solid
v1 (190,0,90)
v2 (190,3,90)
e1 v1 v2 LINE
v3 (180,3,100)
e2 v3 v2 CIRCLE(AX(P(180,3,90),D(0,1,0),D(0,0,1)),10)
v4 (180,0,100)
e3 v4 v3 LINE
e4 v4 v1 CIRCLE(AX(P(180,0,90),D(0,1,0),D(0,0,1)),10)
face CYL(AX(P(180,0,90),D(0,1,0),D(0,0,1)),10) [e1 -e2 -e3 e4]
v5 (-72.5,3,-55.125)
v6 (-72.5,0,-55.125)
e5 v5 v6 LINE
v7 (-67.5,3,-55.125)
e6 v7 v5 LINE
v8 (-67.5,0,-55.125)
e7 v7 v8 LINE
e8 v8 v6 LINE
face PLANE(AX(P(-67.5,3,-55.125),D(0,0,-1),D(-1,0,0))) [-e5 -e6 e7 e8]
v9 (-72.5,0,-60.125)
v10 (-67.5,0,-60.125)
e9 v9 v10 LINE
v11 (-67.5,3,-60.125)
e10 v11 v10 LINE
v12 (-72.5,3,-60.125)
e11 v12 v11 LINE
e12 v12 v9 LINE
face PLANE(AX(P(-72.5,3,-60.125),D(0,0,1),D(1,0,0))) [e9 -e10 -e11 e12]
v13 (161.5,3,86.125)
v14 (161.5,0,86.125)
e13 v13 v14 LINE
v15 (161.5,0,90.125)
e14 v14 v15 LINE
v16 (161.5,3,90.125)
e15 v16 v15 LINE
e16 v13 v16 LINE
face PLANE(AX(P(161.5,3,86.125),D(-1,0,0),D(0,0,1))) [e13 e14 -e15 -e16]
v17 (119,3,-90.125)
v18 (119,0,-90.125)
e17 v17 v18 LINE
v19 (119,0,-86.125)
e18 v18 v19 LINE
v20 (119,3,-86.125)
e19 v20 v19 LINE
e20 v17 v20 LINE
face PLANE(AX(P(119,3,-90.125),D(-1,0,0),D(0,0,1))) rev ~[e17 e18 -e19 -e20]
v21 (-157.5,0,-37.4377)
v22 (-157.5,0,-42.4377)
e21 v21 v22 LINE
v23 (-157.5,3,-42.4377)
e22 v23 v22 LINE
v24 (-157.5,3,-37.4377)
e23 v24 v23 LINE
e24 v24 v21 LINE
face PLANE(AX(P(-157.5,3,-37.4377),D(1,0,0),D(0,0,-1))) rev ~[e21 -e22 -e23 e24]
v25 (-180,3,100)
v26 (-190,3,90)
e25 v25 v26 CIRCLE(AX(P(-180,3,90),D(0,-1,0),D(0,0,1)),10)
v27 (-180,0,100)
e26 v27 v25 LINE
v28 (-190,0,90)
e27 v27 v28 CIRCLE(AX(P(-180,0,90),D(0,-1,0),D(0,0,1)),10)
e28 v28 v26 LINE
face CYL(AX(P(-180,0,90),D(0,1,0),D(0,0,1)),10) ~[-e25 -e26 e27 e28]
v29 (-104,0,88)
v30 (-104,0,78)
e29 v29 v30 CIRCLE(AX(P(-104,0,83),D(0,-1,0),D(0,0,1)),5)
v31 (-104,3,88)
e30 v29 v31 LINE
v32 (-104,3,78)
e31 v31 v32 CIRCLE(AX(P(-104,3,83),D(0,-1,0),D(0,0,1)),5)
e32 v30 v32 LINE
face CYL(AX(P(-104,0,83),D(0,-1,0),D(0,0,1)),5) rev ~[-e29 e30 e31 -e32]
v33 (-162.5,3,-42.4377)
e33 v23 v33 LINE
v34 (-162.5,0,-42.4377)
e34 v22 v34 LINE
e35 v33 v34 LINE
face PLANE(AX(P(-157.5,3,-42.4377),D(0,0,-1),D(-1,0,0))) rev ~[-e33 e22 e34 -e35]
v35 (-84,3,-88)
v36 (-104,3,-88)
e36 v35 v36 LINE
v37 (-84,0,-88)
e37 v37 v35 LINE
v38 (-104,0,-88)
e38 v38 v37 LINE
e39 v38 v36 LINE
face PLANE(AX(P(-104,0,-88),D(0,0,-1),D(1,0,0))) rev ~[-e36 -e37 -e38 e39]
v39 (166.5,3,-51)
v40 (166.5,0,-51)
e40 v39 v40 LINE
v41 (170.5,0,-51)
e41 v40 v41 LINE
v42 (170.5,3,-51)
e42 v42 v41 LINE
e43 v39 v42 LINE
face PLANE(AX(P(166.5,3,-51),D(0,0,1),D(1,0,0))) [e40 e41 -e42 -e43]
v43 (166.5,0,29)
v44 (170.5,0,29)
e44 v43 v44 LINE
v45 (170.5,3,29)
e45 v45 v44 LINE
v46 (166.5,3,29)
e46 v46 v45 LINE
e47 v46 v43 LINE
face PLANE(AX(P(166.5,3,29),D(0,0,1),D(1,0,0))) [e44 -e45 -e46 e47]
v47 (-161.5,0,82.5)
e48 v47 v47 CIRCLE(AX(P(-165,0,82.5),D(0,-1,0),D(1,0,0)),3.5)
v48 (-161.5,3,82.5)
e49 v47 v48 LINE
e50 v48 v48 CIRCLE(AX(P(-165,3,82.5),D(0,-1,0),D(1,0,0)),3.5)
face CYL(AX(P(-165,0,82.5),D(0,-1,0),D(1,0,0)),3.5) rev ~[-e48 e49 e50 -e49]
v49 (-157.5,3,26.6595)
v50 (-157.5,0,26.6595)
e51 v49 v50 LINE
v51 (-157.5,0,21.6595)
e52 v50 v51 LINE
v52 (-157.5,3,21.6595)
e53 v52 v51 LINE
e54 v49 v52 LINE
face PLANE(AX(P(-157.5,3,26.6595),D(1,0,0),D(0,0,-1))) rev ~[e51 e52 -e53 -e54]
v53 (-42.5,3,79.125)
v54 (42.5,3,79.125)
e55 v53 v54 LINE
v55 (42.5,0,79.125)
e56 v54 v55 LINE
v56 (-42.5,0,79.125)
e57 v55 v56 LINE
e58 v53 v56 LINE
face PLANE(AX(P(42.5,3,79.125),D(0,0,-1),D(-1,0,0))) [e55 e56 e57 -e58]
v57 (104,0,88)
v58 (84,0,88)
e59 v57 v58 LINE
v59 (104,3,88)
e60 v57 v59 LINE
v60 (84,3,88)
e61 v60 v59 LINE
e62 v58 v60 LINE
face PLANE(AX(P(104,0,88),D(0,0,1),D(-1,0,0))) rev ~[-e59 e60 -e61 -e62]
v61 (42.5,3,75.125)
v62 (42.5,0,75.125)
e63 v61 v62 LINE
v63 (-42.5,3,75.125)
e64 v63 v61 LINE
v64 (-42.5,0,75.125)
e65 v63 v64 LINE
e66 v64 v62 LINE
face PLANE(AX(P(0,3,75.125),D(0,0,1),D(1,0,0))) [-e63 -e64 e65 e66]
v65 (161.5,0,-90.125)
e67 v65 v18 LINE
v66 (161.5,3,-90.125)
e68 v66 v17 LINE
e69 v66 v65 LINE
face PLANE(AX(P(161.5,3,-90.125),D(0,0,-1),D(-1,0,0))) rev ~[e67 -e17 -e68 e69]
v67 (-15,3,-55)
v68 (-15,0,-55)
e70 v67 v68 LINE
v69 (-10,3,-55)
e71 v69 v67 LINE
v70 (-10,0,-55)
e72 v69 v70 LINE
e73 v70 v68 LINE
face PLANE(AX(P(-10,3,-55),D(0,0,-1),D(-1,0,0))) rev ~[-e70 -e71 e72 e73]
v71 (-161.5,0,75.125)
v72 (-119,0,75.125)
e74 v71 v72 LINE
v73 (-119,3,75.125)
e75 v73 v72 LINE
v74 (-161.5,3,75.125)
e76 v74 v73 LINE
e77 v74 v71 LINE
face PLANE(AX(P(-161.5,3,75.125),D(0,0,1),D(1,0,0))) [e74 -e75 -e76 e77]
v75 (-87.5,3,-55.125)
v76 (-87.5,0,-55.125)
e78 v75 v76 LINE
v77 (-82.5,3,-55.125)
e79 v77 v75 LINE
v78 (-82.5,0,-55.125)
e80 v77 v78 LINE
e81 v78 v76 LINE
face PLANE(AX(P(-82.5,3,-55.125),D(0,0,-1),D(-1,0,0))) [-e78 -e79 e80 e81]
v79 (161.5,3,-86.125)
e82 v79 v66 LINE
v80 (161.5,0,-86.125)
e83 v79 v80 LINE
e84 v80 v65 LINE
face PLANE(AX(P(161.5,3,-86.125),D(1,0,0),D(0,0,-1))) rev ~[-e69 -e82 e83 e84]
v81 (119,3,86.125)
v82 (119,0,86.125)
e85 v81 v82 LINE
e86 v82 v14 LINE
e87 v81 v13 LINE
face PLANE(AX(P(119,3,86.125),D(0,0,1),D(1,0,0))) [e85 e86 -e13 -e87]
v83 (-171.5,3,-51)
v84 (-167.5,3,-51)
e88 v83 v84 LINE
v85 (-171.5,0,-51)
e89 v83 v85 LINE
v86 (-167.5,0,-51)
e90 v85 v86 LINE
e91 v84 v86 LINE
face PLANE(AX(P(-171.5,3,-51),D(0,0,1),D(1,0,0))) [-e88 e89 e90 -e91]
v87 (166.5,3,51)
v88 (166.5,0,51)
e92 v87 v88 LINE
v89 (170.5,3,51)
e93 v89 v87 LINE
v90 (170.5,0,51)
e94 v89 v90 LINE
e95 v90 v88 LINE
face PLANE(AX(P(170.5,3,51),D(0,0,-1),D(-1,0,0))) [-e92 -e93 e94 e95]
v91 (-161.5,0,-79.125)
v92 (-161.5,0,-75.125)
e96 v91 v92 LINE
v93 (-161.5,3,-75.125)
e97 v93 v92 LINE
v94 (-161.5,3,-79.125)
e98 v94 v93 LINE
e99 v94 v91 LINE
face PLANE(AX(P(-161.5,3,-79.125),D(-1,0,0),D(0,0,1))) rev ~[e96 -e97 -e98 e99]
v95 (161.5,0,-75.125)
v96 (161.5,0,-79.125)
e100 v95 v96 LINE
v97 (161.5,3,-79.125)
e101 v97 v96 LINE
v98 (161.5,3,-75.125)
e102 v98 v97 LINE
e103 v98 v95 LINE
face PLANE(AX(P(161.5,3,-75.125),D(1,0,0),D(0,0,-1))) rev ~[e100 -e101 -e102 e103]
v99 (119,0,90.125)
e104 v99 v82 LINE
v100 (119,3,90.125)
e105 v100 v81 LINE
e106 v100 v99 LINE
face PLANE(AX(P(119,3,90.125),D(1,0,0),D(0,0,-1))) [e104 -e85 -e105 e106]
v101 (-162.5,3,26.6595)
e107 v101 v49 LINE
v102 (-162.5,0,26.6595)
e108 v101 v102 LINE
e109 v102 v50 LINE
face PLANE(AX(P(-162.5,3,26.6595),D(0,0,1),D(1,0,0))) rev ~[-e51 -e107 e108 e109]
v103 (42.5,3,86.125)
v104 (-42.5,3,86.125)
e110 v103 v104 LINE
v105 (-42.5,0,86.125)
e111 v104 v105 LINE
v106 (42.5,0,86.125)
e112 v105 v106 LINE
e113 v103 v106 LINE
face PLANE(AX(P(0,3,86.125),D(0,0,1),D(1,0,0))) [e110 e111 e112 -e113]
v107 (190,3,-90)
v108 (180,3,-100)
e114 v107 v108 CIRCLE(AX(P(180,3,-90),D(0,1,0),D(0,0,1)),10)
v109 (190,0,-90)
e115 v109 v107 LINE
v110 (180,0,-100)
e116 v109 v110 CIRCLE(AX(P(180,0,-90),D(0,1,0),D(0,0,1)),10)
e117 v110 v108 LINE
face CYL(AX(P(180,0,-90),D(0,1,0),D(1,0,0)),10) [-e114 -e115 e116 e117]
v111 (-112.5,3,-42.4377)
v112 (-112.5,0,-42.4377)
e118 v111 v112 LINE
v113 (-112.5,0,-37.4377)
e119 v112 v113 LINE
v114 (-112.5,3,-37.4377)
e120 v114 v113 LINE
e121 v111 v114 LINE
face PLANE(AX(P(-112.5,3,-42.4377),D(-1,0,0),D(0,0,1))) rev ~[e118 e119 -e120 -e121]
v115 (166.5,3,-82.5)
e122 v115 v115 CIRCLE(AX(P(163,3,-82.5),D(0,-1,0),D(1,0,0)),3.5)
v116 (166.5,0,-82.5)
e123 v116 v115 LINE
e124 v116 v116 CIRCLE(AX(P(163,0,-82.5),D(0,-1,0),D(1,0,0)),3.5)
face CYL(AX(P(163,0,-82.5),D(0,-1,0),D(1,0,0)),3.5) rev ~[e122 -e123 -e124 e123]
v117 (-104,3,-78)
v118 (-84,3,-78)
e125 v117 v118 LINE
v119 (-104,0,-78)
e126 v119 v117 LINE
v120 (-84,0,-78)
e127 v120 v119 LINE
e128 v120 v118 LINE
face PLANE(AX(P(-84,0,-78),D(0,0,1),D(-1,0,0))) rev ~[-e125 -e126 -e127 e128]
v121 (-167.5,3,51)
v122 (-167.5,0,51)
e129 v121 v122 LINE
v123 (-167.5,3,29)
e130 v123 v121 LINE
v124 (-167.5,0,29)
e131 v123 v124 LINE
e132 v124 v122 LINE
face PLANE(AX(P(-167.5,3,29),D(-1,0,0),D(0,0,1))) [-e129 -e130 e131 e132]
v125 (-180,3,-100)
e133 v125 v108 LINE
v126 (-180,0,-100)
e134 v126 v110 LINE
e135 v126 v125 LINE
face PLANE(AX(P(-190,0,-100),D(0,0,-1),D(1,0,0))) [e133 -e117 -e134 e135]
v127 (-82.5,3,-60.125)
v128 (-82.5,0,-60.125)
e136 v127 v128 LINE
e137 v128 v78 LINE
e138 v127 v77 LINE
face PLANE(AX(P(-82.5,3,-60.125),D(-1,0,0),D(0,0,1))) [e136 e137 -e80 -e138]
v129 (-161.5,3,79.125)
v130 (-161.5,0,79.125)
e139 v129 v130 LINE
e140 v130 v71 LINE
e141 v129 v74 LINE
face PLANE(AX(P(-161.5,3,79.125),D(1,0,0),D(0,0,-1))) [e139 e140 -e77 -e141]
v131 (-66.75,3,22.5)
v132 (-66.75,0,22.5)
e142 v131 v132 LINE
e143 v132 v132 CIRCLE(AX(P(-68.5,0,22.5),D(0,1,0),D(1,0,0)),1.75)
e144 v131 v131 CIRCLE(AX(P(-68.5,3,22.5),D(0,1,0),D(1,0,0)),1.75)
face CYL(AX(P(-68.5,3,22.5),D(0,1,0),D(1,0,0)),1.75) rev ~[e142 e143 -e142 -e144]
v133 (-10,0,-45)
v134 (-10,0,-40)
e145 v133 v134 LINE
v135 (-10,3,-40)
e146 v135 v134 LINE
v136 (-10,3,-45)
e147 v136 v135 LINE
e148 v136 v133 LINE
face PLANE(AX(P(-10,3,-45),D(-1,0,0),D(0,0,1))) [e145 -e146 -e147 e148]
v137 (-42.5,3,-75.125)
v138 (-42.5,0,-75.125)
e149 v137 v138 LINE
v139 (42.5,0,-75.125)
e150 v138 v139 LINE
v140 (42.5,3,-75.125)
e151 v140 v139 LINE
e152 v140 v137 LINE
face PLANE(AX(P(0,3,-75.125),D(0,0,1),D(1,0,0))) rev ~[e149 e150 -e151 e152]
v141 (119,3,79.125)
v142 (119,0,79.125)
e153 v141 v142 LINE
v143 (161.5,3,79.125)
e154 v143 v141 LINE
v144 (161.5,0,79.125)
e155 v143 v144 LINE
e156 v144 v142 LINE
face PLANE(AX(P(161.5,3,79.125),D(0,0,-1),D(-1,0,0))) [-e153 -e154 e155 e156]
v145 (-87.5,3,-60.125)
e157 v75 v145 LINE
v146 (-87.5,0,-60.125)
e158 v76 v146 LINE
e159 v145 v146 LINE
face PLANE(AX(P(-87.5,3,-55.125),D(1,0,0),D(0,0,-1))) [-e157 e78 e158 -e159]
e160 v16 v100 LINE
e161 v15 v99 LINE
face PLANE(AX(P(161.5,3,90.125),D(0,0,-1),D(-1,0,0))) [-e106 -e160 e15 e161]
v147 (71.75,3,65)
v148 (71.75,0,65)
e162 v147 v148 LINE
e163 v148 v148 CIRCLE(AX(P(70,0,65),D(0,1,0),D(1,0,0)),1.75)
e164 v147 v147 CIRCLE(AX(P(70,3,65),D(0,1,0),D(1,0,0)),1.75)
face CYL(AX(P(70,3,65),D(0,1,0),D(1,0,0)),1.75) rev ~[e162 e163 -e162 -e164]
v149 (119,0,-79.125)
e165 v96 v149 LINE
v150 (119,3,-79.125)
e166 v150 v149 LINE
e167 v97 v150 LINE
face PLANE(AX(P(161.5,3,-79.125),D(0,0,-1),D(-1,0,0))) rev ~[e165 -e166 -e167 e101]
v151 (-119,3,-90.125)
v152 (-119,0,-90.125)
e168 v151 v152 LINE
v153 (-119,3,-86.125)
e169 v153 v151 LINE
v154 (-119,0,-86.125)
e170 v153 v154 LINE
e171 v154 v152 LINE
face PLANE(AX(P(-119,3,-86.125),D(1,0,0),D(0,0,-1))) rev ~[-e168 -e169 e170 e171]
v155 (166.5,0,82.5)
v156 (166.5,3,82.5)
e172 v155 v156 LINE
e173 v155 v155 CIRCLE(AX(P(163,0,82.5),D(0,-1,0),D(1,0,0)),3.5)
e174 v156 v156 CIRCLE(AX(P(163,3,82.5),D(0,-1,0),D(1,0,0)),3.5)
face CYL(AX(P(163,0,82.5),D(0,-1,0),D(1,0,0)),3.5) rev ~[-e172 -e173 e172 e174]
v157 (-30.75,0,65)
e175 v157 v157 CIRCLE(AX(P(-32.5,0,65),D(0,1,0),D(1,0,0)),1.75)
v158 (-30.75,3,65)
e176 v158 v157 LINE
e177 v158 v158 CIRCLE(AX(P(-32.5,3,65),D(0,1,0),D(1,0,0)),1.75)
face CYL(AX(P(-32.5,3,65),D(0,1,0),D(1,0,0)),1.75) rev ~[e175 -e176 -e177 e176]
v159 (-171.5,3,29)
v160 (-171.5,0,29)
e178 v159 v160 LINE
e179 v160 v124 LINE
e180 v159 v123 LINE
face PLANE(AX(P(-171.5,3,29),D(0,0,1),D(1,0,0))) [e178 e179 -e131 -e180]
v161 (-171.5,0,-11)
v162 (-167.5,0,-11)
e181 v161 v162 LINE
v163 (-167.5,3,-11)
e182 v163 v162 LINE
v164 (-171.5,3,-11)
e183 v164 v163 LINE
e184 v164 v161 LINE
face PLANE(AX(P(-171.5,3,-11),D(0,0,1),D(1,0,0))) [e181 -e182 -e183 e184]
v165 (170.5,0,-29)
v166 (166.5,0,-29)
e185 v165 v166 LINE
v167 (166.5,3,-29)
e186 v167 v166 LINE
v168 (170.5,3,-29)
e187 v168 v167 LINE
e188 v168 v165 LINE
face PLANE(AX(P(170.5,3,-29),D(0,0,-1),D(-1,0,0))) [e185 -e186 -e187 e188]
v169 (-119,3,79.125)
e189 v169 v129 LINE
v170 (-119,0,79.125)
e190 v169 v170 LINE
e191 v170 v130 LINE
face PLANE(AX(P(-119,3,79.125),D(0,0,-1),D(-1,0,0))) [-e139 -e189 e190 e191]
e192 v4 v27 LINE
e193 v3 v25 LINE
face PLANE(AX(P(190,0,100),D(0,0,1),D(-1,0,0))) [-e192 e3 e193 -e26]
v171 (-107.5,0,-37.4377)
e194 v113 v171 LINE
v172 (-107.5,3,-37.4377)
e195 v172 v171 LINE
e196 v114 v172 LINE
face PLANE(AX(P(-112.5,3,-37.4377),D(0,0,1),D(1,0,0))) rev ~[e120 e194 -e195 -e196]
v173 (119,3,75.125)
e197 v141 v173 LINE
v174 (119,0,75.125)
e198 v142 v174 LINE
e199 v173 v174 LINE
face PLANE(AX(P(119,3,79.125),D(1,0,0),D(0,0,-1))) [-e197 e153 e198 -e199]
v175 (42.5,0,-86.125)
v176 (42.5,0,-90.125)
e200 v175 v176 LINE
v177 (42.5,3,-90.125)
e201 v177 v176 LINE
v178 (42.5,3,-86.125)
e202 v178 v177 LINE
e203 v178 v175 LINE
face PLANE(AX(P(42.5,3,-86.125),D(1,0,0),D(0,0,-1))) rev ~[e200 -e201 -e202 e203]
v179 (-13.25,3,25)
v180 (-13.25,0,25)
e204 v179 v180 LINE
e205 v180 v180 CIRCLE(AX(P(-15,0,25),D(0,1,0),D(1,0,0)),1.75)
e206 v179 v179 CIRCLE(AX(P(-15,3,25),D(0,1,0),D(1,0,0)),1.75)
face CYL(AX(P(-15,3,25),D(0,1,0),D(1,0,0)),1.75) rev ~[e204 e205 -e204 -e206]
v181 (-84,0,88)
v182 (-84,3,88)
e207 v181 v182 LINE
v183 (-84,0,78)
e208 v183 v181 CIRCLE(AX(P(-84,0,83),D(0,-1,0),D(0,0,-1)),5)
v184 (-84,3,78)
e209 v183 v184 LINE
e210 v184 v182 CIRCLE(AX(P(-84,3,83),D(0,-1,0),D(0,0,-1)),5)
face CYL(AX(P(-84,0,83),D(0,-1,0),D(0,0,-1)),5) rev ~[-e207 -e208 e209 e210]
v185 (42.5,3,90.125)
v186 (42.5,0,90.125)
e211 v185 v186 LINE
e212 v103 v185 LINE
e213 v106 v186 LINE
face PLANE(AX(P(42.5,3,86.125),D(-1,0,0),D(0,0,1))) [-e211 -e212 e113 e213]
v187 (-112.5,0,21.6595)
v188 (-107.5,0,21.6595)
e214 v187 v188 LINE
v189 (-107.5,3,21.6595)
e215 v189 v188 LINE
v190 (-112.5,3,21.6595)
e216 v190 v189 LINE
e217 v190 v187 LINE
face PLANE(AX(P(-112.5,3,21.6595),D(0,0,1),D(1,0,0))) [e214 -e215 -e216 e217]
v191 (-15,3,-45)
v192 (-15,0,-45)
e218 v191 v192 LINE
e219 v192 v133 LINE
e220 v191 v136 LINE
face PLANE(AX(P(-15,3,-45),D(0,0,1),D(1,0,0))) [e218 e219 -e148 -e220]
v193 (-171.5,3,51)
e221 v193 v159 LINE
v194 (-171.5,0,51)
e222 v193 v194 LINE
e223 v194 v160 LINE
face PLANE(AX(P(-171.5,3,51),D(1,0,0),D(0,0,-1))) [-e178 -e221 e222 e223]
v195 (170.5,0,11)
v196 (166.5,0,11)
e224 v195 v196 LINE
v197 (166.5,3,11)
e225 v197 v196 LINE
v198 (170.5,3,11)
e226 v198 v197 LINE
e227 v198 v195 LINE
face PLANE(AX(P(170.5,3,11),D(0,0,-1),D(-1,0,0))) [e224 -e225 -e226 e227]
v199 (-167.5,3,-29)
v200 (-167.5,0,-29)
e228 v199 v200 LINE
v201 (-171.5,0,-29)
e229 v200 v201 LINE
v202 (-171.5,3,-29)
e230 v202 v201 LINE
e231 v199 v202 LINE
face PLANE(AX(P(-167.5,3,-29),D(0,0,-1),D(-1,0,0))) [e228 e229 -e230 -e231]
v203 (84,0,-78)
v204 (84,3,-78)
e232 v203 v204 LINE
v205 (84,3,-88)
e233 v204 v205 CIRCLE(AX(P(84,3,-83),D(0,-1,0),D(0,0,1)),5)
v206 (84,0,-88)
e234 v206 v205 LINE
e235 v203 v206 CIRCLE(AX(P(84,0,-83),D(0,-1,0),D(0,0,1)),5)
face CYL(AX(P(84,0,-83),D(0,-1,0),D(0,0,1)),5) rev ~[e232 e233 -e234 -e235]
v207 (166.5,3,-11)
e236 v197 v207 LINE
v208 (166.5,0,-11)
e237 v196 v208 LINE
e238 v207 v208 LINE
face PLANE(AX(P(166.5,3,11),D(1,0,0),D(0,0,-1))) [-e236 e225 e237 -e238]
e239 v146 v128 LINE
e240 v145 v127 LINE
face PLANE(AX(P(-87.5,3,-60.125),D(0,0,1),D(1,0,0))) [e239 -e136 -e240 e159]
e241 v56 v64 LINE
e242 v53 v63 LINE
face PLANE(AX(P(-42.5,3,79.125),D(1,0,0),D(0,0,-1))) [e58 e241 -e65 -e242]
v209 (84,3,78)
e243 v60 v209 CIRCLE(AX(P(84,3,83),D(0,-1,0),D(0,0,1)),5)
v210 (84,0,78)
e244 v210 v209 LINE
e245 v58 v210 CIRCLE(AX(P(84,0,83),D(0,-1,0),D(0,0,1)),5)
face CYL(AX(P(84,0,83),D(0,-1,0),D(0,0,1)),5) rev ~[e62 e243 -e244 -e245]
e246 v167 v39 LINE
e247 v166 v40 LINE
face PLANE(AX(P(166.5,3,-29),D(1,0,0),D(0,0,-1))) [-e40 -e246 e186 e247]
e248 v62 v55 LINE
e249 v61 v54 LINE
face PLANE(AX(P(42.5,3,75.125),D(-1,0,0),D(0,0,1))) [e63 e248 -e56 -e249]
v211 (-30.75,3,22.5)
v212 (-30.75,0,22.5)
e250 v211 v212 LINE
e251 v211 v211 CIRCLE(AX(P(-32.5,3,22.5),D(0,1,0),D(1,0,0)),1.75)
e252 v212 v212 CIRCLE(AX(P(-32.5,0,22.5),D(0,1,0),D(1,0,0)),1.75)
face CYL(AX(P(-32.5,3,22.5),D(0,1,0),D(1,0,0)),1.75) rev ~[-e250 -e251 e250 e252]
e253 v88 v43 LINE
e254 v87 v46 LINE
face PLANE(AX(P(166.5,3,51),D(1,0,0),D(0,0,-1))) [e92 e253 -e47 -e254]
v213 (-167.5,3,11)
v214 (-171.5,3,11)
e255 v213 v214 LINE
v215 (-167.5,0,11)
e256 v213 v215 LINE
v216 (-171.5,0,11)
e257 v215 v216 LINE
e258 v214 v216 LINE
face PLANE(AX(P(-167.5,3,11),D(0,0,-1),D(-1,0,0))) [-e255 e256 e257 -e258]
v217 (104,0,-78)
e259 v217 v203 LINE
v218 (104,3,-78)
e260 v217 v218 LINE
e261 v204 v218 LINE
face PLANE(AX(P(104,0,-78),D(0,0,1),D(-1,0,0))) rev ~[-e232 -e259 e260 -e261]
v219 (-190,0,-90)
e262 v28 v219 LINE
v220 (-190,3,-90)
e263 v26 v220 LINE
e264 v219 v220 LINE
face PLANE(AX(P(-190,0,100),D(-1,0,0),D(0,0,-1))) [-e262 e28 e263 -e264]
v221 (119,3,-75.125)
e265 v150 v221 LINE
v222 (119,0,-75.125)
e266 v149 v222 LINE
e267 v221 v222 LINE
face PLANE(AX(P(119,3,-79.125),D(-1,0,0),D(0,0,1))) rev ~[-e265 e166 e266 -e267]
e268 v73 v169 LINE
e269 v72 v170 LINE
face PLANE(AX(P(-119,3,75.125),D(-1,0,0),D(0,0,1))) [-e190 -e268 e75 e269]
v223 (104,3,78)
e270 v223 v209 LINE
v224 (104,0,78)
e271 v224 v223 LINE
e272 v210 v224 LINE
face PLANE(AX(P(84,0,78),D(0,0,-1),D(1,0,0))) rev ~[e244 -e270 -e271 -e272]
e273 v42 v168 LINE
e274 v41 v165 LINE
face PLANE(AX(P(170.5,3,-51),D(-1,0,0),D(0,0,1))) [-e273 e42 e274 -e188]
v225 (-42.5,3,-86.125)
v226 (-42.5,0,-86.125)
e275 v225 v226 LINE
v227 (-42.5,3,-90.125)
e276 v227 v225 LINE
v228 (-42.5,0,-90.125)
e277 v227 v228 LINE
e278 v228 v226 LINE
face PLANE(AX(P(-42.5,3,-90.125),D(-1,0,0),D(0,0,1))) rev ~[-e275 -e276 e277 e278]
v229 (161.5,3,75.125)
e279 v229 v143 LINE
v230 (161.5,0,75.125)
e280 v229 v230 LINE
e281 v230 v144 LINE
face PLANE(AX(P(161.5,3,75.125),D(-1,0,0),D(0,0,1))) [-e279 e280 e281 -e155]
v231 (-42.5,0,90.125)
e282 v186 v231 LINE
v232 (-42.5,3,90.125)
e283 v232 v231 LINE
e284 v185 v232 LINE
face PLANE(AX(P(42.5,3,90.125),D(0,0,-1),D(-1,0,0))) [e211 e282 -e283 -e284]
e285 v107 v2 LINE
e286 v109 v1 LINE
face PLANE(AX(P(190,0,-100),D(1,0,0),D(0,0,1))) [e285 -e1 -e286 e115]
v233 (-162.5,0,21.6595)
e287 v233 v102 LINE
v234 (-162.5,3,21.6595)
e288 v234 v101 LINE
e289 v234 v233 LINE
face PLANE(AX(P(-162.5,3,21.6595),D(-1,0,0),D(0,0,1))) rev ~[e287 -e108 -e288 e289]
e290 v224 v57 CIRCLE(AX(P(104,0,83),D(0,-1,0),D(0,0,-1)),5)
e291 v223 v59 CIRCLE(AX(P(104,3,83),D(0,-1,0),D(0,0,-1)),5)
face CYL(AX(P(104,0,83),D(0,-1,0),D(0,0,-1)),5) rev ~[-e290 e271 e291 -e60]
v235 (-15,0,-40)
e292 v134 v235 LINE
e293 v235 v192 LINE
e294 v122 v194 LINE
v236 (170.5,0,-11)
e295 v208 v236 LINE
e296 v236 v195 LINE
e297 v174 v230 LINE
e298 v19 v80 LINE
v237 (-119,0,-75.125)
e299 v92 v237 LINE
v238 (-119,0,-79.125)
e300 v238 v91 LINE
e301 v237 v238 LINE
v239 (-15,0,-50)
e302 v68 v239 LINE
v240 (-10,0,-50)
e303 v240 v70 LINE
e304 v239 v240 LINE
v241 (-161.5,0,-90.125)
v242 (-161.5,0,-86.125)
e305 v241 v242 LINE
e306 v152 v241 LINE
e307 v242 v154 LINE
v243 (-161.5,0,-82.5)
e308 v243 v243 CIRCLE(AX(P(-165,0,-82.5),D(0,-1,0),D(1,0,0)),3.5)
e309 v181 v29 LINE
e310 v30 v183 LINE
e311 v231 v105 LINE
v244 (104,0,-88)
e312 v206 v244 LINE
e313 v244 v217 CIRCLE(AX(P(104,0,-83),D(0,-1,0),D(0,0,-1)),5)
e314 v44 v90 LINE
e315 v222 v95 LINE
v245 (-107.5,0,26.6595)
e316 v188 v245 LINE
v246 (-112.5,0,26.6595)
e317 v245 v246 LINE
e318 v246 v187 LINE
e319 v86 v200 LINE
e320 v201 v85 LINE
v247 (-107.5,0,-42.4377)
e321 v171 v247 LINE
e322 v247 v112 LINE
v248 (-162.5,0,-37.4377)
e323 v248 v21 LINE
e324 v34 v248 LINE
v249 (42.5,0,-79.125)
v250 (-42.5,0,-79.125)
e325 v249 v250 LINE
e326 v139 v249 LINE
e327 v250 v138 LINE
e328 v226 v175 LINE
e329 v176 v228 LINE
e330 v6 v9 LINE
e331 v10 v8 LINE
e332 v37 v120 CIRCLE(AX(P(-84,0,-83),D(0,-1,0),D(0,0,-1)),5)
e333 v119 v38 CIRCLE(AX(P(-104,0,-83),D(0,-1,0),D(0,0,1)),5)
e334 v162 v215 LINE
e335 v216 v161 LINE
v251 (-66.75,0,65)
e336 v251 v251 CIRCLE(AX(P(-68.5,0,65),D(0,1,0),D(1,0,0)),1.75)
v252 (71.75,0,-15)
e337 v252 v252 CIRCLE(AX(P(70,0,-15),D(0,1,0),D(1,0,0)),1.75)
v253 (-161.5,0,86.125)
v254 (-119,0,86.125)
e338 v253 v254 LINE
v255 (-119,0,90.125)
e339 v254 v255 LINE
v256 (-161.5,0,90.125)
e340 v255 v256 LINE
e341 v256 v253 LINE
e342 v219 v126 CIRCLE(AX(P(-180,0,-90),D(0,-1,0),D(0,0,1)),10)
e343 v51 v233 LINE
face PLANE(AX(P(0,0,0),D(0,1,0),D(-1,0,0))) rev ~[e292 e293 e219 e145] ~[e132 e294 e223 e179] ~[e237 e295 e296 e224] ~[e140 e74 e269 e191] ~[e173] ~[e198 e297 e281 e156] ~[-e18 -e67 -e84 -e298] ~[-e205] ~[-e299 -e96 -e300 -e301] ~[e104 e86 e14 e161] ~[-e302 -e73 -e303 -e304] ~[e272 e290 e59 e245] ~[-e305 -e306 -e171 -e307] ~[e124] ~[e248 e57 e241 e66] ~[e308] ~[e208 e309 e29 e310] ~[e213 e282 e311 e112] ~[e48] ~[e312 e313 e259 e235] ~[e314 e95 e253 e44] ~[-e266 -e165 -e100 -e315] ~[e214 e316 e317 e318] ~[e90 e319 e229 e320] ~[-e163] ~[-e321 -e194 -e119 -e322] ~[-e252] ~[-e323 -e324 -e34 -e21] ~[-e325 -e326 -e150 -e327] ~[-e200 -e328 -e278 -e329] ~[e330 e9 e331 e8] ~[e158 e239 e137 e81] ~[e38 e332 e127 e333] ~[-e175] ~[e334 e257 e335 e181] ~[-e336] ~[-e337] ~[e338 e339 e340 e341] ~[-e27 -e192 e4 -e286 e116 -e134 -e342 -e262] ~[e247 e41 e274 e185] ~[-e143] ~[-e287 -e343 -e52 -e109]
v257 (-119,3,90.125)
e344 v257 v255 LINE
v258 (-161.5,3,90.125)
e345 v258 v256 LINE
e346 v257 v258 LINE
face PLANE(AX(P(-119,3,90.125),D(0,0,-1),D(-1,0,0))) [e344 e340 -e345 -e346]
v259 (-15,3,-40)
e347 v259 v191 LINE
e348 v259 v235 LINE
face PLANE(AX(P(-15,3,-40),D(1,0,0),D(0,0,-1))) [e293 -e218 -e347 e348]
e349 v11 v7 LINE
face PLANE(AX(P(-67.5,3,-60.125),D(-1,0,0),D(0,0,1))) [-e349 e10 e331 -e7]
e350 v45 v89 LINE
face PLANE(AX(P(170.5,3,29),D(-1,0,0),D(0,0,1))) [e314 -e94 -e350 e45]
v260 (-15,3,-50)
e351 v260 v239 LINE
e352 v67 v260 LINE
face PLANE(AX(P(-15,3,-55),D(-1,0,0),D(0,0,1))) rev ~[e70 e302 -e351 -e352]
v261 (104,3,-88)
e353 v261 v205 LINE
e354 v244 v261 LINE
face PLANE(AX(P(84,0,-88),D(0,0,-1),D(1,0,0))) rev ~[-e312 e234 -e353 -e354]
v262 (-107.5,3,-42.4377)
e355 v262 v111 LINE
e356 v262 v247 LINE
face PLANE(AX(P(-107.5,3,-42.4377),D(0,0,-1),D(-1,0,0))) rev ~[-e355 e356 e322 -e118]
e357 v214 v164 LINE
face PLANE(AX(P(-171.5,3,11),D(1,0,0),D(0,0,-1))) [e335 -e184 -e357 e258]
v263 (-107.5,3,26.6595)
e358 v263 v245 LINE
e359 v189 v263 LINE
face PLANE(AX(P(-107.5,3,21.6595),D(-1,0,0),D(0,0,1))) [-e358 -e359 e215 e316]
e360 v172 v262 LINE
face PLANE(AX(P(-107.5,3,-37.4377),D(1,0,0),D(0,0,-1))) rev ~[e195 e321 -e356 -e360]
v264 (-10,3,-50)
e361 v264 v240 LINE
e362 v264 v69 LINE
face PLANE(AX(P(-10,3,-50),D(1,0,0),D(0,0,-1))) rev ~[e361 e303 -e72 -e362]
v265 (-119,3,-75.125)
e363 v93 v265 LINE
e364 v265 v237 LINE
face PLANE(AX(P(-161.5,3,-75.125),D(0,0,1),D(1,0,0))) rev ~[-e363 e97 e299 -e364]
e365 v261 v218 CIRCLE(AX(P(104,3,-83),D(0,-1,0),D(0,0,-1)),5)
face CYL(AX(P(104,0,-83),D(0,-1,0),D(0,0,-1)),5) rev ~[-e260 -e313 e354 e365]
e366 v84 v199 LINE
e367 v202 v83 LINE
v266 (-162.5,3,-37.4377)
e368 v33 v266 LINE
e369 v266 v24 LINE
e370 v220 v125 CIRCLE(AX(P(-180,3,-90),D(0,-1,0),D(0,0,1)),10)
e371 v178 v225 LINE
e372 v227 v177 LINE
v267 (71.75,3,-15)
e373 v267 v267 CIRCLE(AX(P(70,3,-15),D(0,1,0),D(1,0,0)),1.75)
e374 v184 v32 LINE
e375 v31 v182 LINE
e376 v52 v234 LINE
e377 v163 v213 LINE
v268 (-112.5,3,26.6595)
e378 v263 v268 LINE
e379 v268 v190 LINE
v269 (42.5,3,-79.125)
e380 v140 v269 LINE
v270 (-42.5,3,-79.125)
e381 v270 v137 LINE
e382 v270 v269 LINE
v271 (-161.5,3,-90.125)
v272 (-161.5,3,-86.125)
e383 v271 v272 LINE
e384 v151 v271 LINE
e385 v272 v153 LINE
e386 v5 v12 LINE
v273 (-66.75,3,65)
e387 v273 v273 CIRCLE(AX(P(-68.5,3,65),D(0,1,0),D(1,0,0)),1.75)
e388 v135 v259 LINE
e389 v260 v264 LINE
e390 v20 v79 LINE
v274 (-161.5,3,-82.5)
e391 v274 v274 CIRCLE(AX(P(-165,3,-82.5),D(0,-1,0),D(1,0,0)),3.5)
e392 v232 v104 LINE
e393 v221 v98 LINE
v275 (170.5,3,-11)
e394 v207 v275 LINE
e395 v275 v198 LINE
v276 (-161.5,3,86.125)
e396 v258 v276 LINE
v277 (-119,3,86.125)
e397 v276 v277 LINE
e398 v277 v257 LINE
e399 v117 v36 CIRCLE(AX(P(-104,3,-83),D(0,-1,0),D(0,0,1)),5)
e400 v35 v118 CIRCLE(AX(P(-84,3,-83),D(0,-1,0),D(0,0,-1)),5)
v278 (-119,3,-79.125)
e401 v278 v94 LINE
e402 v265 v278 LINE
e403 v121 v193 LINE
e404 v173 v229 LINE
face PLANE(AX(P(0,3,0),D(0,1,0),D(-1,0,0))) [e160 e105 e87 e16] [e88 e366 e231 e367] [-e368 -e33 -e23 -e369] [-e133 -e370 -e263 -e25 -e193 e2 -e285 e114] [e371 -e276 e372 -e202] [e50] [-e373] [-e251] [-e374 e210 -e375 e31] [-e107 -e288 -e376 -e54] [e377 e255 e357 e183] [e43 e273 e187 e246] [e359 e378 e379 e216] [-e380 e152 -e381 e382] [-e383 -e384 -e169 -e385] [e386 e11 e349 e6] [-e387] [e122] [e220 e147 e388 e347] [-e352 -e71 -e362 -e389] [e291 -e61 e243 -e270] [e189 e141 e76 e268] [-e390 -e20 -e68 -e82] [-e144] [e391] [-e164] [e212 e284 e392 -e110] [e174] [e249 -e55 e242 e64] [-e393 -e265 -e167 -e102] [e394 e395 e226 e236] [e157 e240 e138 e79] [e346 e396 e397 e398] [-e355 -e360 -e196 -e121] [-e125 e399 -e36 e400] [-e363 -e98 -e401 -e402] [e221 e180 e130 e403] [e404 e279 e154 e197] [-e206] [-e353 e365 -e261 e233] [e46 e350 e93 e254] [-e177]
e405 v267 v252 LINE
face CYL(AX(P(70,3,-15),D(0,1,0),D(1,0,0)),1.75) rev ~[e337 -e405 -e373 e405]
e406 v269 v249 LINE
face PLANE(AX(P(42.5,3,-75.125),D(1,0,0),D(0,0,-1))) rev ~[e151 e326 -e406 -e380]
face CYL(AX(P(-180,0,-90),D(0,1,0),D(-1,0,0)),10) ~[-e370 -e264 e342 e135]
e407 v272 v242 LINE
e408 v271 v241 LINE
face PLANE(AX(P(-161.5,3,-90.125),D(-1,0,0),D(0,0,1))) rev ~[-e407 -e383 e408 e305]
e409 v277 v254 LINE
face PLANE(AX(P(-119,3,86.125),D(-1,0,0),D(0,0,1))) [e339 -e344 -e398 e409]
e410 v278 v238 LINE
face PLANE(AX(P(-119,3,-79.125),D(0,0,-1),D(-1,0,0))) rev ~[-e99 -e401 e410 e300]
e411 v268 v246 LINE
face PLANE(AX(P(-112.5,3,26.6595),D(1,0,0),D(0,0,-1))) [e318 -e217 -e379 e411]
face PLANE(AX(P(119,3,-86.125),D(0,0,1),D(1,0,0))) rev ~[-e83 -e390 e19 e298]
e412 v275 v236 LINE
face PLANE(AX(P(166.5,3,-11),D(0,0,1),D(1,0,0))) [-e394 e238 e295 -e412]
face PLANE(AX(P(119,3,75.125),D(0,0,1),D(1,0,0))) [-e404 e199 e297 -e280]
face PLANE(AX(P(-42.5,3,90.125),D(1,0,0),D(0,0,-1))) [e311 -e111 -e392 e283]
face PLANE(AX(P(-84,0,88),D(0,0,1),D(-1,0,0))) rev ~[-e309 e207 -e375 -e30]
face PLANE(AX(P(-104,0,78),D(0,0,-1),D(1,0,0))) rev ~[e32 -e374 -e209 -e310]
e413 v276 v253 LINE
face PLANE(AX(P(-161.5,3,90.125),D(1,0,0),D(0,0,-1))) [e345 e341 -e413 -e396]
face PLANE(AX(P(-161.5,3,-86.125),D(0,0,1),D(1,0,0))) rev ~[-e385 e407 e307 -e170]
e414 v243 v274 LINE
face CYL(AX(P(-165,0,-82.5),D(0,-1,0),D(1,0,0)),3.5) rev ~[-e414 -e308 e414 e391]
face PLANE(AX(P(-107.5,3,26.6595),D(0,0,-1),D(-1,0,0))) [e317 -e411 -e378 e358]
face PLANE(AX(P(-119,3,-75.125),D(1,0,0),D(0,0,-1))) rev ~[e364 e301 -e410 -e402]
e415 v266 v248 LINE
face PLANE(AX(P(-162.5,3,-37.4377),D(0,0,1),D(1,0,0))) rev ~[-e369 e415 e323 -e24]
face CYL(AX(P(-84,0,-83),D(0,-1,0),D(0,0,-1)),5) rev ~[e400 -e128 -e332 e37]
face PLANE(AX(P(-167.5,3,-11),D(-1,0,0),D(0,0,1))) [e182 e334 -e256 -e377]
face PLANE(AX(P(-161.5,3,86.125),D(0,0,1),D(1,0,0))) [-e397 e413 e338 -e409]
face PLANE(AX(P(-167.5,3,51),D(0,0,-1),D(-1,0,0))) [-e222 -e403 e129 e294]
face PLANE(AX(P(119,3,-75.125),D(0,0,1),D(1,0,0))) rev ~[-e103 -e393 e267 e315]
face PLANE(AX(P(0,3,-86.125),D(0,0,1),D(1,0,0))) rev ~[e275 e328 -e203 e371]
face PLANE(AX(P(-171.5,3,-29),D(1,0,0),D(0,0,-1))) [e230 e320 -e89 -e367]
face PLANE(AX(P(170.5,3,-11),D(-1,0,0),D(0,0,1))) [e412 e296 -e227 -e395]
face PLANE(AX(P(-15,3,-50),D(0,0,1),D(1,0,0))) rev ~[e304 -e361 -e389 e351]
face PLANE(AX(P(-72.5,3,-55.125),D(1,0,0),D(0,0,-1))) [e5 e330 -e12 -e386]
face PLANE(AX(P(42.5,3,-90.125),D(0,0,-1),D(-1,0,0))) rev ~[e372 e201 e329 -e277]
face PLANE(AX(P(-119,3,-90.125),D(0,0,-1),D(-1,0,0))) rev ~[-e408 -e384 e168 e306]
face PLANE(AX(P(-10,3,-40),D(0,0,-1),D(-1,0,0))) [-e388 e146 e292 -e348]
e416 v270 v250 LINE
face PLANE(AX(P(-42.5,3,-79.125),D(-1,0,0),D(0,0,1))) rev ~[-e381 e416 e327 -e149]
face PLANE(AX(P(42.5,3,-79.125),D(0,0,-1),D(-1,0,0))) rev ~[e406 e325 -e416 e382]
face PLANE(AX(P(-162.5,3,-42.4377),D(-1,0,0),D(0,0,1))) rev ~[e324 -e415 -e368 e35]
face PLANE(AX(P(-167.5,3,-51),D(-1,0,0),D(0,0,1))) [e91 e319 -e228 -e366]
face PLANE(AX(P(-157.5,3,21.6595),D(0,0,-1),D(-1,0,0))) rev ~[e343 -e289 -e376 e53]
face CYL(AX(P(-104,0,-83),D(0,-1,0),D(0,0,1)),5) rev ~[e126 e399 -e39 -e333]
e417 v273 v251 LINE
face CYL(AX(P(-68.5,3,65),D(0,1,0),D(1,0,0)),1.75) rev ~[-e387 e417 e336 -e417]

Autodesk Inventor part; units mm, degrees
ref_plane "YZ Plane" through (0, 0, 0) normal (1, 0, 0) x (0, 1, 0)
ref_plane "XZ Plane" through (0, 0, 0) normal (0, 1, 0) x (-1, 0, 0)
ref_plane "XY Plane" through (0, 0, 0) normal (0, 0, 1) x (1, 0, 0)
sketch "Sketch1" plane through (0, 0, 0) normal (0, 1, 0) x (-1, 0, 0)
  line L0 (-190, 100) -> (190, 100)
  line L1 (190, 100) -> (190, -100)
  line L2 (190, -100) -> (-190, -100)
  line L3 (-190, -100) -> (-190, 100)
  line L4 (-190, 100) -> (190, -100) construction
  line L5 (190, 100) -> (-190, -100) construction
  point P0 (0, 0)
  dimension "d0" = 380
  dimension "d1" = 200
extrude "Extrusion1" add sketch "Sketch1" along normal blind 3
sketch "Sketch3" plane through (0, 3, 0) normal (0, 1, 0) x (1, 0, 0)
  line L0 (42.5, 90.125) -> (0, 90.125)
  line L1 (0, 90.125) -> (0, 86.125)
  line L2 (0, 86.125) -> (42.5, 86.125)
  line L3 (42.5, 86.125) -> (42.5, 90.125)
  line L4 (42.5, 90.125) -> (0, 86.125) construction
  line L5 (0, 90.125) -> (42.5, 86.125) construction
  line L6 (0, 90.125) -> (-42.5, 90.125)
  line L7 (-42.5, 90.125) -> (-42.5, 86.125)
  line L8 (-42.5, 86.125) -> (0, 86.125)
  line L9 (0, 86.125) -> (0, 90.125)
  line L10 (0, 90.125) -> (-42.5, 86.125) construction
  line L11 (-42.5, 90.125) -> (0, 86.125) construction
  line L12 (190, 100) -> (-190, 100) projected
  line L13 (161.5, 90.125) -> (119, 90.125)
  line L14 (119, 90.125) -> (119, 86.125)
  line L15 (119, 86.125) -> (161.5, 86.125)
  line L16 (161.5, 86.125) -> (161.5, 90.125)
  line L17 (161.5, 90.125) -> (119, 86.125) construction
  line L18 (119, 90.125) -> (161.5, 86.125) construction
  line L19 (0, 90.125) -> (0, 90.125)
  line L20 (0, 90.125) -> (0, 86.125)
  line L21 (0, 86.125) -> (0, 86.125)
  line L22 (0, 86.125) -> (0, 90.125)
  line L23 (-119, 90.125) -> (-161.5, 90.125)
  line L24 (-161.5, 90.125) -> (-161.5, 86.125)
  line L25 (-161.5, 86.125) -> (-119, 86.125)
  line L26 (-119, 86.125) -> (-119, 90.125)
  line L27 (190, 100) -> (190, -100)
  line L28 (42.5, 79.125) -> (0, 79.125)
  line L29 (0, 79.125) -> (0, 75.125)
  line L30 (0, 75.125) -> (42.5, 75.125)
  line L31 (42.5, 75.125) -> (42.5, 79.125)
  line L32 (42.5, 79.125) -> (0, 75.125) construction
  line L33 (0, 79.125) -> (42.5, 75.125) construction
  line L34 (0, 79.125) -> (-42.5, 79.125)
  line L35 (-42.5, 79.125) -> (-42.5, 75.125)
  line L36 (-42.5, 75.125) -> (0, 75.125)
  line L37 (0, 75.125) -> (0, 79.125)
  line L38 (0, 79.125) -> (-42.5, 75.125) construction
  line L39 (-42.5, 79.125) -> (0, 75.125) construction
  line L40 (0, 79.125) -> (0, 79.125)
  line L41 (0, 79.125) -> (0, 75.125)
  line L42 (0, 75.125) -> (0, 75.125)
  line L43 (0, 75.125) -> (0, 79.125)
  line L44 (-119, 79.125) -> (-161.5, 79.125)
  line L45 (-161.5, 79.125) -> (-161.5, 75.125)
  line L46 (-161.5, 75.125) -> (-119, 75.125)
  line L47 (-119, 75.125) -> (-119, 79.125)
  line L48 (190, 89) -> (190, -111)
  line L49 (253.2147, 0) -> (-252.6779, 0)
  line L50 (161.5, 79.125) -> (119, 79.125)
  line L51 (119, 79.125) -> (119, 75.125)
  line L52 (119, 75.125) -> (161.5, 75.125)
  line L53 (161.5, 75.125) -> (161.5, 79.125)
  line L54 (161.5, 79.125) -> (119, 75.125) construction
  line L55 (119, 79.125) -> (161.5, 75.125) construction
  line L56 (42.5, -90.125) -> (0, -90.125)
  line L57 (0, -90.125) -> (0, -86.125)
  line L58 (0, -86.125) -> (42.5, -86.125)
  line L59 (42.5, -86.125) -> (42.5, -90.125)
  line L60 (42.5, -90.125) -> (0, -86.125) construction
  line L61 (0, -90.125) -> (42.5, -86.125) construction
  line L62 (0, -90.125) -> (-42.5, -90.125)
  line L63 (-42.5, -90.125) -> (-42.5, -86.125)
  line L64 (-42.5, -86.125) -> (0, -86.125)
  line L65 (0, -86.125) -> (0, -90.125)
  line L66 (0, -90.125) -> (-42.5, -86.125) construction
  line L67 (-42.5, -90.125) -> (0, -86.125) construction
  line L68 (190, -100) -> (-190, -100)
  line L69 (161.5, -90.125) -> (119, -90.125)
  line L70 (119, -90.125) -> (119, -86.125)
  line L71 (119, -86.125) -> (161.5, -86.125)
  line L72 (161.5, -86.125) -> (161.5, -90.125)
  line L73 (161.5, -90.125) -> (119, -86.125) construction
  line L74 (119, -90.125) -> (161.5, -86.125) construction
  line L75 (0, -90.125) -> (0, -90.125)
  line L76 (0, -90.125) -> (0, -86.125)
  line L77 (0, -86.125) -> (0, -86.125)
  line L78 (0, -86.125) -> (0, -90.125)
  line L79 (-119, -90.125) -> (-161.5, -90.125)
  line L80 (-161.5, -90.125) -> (-161.5, -86.125)
  line L81 (-161.5, -86.125) -> (-119, -86.125)
  line L82 (-119, -86.125) -> (-119, -90.125)
  line L83 (0, -79.125) -> (0, -79.125)
  line L84 (0, -75.125) -> (0, -75.125)
  line L85 (0, -75.125) -> (0, -79.125)
  line L86 (0, -79.125) -> (0, -75.125)
  line L87 (-42.5, -75.125) -> (0, -75.125)
  line L88 (-42.5, -79.125) -> (-42.5, -75.125)
  line L89 (0, -79.125) -> (-42.5, -75.125) construction
  line L90 (-42.5, -79.125) -> (0, -75.125) construction
  line L91 (0, -79.125) -> (-42.5, -79.125)
  line L92 (0, -79.125) -> (0, -75.125)
  line L93 (0, -75.125) -> (0, -79.125)
  line L94 (42.5, -79.125) -> (0, -79.125)
  line L95 (0, -75.125) -> (42.5, -75.125)
  line L96 (42.5, -79.125) -> (0, -75.125) construction
  line L97 (0, -79.125) -> (42.5, -75.125) construction
  line L98 (42.5, -75.125) -> (42.5, -79.125)
  line L99 (-119, -75.125) -> (-119, -79.125)
  line L100 (-119, -79.125) -> (-161.5, -79.125)
  line L101 (-161.5, -75.125) -> (-119, -75.125)
  line L102 (-161.5, -79.125) -> (-161.5, -75.125)
  line L103 (119, -79.125) -> (119, -75.125)
  line L104 (161.5, -79.125) -> (119, -79.125)
  line L105 (119, -75.125) -> (161.5, -75.125)
  line L106 (161.5, -79.125) -> (119, -75.125) construction
  line L107 (119, -79.125) -> (161.5, -75.125) construction
  line L108 (161.5, -75.125) -> (161.5, -79.125)
  point P0 (0, 0)
  point P1 (21.25, 88.125)
  point P2 (-21.25, 88.125)
  point P3 (140.25, 88.125)
  point P4 (0, -11)
  point P5 (21.25, 77.125)
  point P6 (-21.25, 77.125)
  point P7 (-190, 89)
  point P8 (140.25, 77.125)
  point P9 (21.25, -88.125)
  point P10 (-21.25, -88.125)
  point P11 (140.25, -88.125)
  point P12 (190, -89)
  point P13 (-190, -89)
  point P14 (-21.25, -77.125)
  point P15 (21.25, -77.125)
  point P16 (140.25, -77.125)
  dimension "d49" = 10
  dimension "d28" = 42.5
  dimension "d29" = 4
  dimension "d30" = 42.5
  dimension "d31" = 4
  dimension "d32" = 0
  dimension "d33" = 0
  dimension "d34" = 9.875
  dimension "d35" = 9.875
  dimension "d36" = 42.5
  dimension "d37" = 4
  dimension "d38" = 76.5
  dimension "d39" = 9.875
  dimension "d40" = 42.5
  dimension "d41" = 4
  dimension "d42" = 76.5
  dimension "d43" = 9.875
  dimension "d46" = 11
  dimension "d53" = 11
  dimension "d68" = 71
  dimension "d69" = 100
extrude "Extrusion3" cut sketch "Sketch3" against normal blind 10
sketch "Sketch4" plane through (0, 3, 0) normal (0, 1, 0) x (1, 0, 0)
  line L0 (170.5, 29) -> (166.5, 29)
  line L1 (166.5, 29) -> (166.5, 51)
  line L2 (166.5, 51) -> (170.5, 51)
  line L3 (170.5, 51) -> (170.5, 29)
  line L4 (170.5, 29) -> (166.5, 51) construction
  line L5 (166.5, 29) -> (170.5, 51) construction
  line L6 (-167.5, 29) -> (-171.5, 29)
  line L7 (-171.5, 29) -> (-171.5, 51)
  line L8 (-171.5, 51) -> (-167.5, 51)
  line L9 (-167.5, 51) -> (-167.5, 29)
  line L10 (-167.5, 29) -> (-171.5, 51) construction
  line L11 (-171.5, 29) -> (-167.5, 51) construction
  line L12 (190, 100) -> (190, -100) projected
  line L13 (-190, 100) -> (-190, -100) projected
  line L14 (190, 100) -> (-190, 100) projected
  point P0 (0, 0)
  point P1 (168.5, 40)
  point P2 (-169.5, 40)
  dimension "d60" = 4
  dimension "d61" = 22
  dimension "d62" = 4
  dimension "d63" = 22
  dimension "d64" = 19.5
  dimension "d65" = 18.5
  dimension "d93" = 49
  dimension "d94" = 49
extrude "Extrusion4" cut sketch "Sketch4" against normal blind 10
sketch "Sketch5" plane through (0, 3, 0) normal (0, 1, 0) x (1, 0, 0)
  line L0 (-162.5, -26.6595) -> (-157.5, -26.6595)
  line L1 (-157.5, -26.6595) -> (-157.5, -21.6595)
  line L2 (-157.5, -21.6595) -> (-162.5, -21.6595)
  line L3 (-162.5, -21.6595) -> (-162.5, -26.6595)
  line L4 (-162.5, 37.4377) -> (-157.5, 37.4377)
  line L5 (-157.5, 37.4377) -> (-157.5, 42.4377)
  line L6 (-157.5, 42.4377) -> (-162.5, 42.4377)
  line L7 (-162.5, 42.4377) -> (-162.5, 37.4377)
  line L8 (-112.5, 37.4377) -> (-107.5, 37.4377)
  line L9 (-107.5, 37.4377) -> (-107.5, 42.4377)
  line L10 (-107.5, 42.4377) -> (-112.5, 42.4377)
  line L11 (-112.5, 42.4377) -> (-112.5, 37.4377)
  line L12 (-112.5, -21.6595) -> (-107.5, -21.6595)
  line L13 (-107.5, -21.6595) -> (-107.5, -26.6595)
  line L14 (-107.5, -26.6595) -> (-112.5, -26.6595)
  line L15 (-112.5, -26.6595) -> (-112.5, -21.6595)
  line L16 (-167.5, 51) -> (-167.5, 29) projected
  point P0 (0, 0)
  dimension "d72" = 5
  dimension "d73" = 5
  dimension "d74" = 5
  dimension "d75" = 5
  dimension "d76" = 5
  dimension "d77" = 5
  dimension "d78" = 5
  dimension "d79" = 45
  dimension "d80" = 45
extrude "Extrusion5" cut sketch "Sketch5" against normal blind 10
sketch "Sketch6" plane through (0, 3, 0) normal (0, 1, 0) x (1, 0, 0)
  line L0 (-87.5, 60.125) -> (-82.5, 60.125)
  line L1 (-82.5, 60.125) -> (-82.5, 55.125)
  line L2 (-82.5, 55.125) -> (-87.5, 55.125)
  line L3 (-87.5, 55.125) -> (-87.5, 60.125)
  line L4 (-72.5, 60.125) -> (-67.5, 60.125)
  line L5 (-67.5, 60.125) -> (-67.5, 55.125)
  line L6 (-67.5, 55.125) -> (-72.5, 55.125)
  line L7 (-72.5, 55.125) -> (-72.5, 60.125)
  line L8 (-107.5, 42.4377) -> (-107.5, 37.4377) projected
  line L9 (42.5, 75.125) -> (-42.5, 75.125) projected
  line L10 (-15, 45) -> (-10, 45)
  line L11 (-10, 45) -> (-10, 40)
  line L12 (-10, 40) -> (-15, 40)
  line L13 (-15, 40) -> (-15, 45)
  line L14 (-15, 45) -> (-10, 40) construction
  line L15 (-10, 45) -> (-15, 40) construction
  line L16 (-10, 55) -> (-15, 55)
  line L17 (-15, 55) -> (-15, 50)
  line L18 (-15, 50) -> (-10, 50)
  line L19 (-10, 50) -> (-10, 55)
  line L20 (-10, 55) -> (-15, 50) construction
  line L21 (-15, 55) -> (-10, 50) construction
  point P0 (0, 0)
  point P1 (-12.5, 42.5)
  point P2 (-12.5, 52.5)
  dimension "d83" = 5
  dimension "d84" = 5
  dimension "d85" = 5
  dimension "d86" = 10
  dimension "d87" = 20
  dimension "d88" = 15
  dimension "d89" = 5
  dimension "d90" = 15
  dimension "d159" = 5
  dimension "d160" = 5
  dimension "d162" = 40
  dimension "d163" = 10
  dimension "d164" = 5
  dimension "d165" = 5
  dimension "d166" = 5
  dimension "d167" = 10
extrude "Extrusion6" cut sketch "Sketch6" against normal blind 10
pattern_linear "Rectangular Pattern1" count 3 spacing 40 along (0, 0, 1) of "Extrusion4"
sketch "Sketch7" plane through (0, 0, 0) normal (0, -1, 0) x (1, 0, 0)
  circle A0 centre (163, -82.5) radius 3.5
  circle A1 centre (-165, -82.5) radius 3.5
  line L0 (190, -100) -> (190, 100) projected
  line L1 (-190, 100) -> (-190, -100) projected
  line L2 (-190, -100) -> (190, -100) projected
  line L3 (190, 100) -> (190, -100) projected
  line L4 (190, 0) -> (-190, 0)
  circle A2 centre (163, 82.5) radius 3.5
  circle A3 centre (-165, 82.5) radius 3.5
  line L5 (-190, 100) -> (190, 100)
  point P0 (0, 0)
  point P1 (2.5, -82.5)
  point P2 (2.5, 82.5)
  dimension "d99" = 0
  dimension "d98" = 7
  dimension "d100" = 7
  dimension "d102" = 160.5
  dimension "d103" = 167.5
  dimension "d104" = 25
  dimension "d105" = 17.5
  dimension "d106" = 17.5
  dimension "d107" = 17.5
  dimension "d110" = 27
extrude "Extrusion7" cut sketch "Sketch7" against normal blind 10 contours A0 | A1 | A2 | A3
sketch "Sketch8" plane through (0, 0, 0) normal (0, -1, 0) x (1, 0, 0)
  line L0 (-104, 83) -> (-84, 83) construction
  line L1 (-104, 78) -> (-84, 78)
  line L2 (-84, 88) -> (-104, 88)
  arc A0 (-104, 88) -> (-104, 78) centre (-104, 83) ccw
  arc A1 (-84, 78) -> (-84, 88) centre (-84, 83) ccw
  line L3 (-104, 83) -> (-84, 83) construction
  line L4 (-104, -83) -> (-84, -83) construction
  line L5 (-104, -88) -> (-84, -88)
  line L6 (-84, -78) -> (-104, -78)
  arc A2 (-104, -78) -> (-104, -88) centre (-104, -83) ccw
  arc A3 (-84, -88) -> (-84, -78) centre (-84, -83) ccw
  line L7 (-190, -100) -> (190, -100) projected
  line L8 (190, 100) -> (-190, 100) projected
  line L9 (-119, -86.125) -> (-119, -90.125) projected
  line L10 (-119, 79.125) -> (-119, 75.125) projected
  line L11 (84, -83) -> (104, -83) construction
  line L12 (84, -88) -> (104, -88)
  line L13 (104, -78) -> (84, -78)
  arc A4 (84, -78) -> (84, -88) centre (84, -83) ccw
  arc A5 (104, -88) -> (104, -78) centre (104, -83) ccw
  line L14 (84, -83) -> (104, -83) construction
  line L15 (119, -90.125) -> (119, -86.125) projected
  line L16 (104, 83) -> (84, 83) construction
  line L17 (104, 88) -> (84, 88)
  line L18 (84, 78) -> (104, 78)
  arc A6 (104, 78) -> (104, 88) centre (104, 83) ccw
  arc A7 (84, 88) -> (84, 78) centre (84, 83) ccw
  line L19 (119, 86.125) -> (119, 90.125) projected
  point P0 (0, 0)
  point P1 (-94, 83)
  point P2 (-94, -83)
  point P3 (94, -83)
  point P4 (94, 83)
  dimension "d111" = 20
  dimension "d112" = 0
  dimension "d113" = 10
  dimension "d114" = 20
  dimension "d115" = 10
  dimension "d116" = 12
  dimension "d117" = 12
  dimension "d118" = 15
  dimension "d119" = 15
  dimension "d120" = 20
  dimension "d121" = 0
  dimension "d122" = 10
  dimension "d123" = 12
  dimension "d124" = 15
  dimension "d125" = 20
  dimension "d126" = 10
  dimension "d127" = 12
  dimension "d128" = 15
extrude "Extrusion8" cut sketch "Sketch8" against normal blind 10
fillet "Fillet1" radius 10 4 edges at (-190, 1.5, 100) (190, 1.5, 100) (190, 1.5, -100) (-190, 1.5, -100)
sketch "Sketch9" plane through (0, 3, 0) normal (0, 1, 0) x (1, 0, 0)
  circle A0 centre (-32.5, -65) radius 1.75
  circle A1 centre (-32.5, -22.5) radius 1.75
  circle A2 centre (-68.5, -22.5) radius 1.75
  circle A3 centre (-68.5, -65) radius 1.75
  line L0 (-180, -100) -> (180, -100) projected
  line L1 (-42.5, -79.125) -> (-42.5, -75.125) projected
  point P0 (0, 0)
  dimension "d132" = 3.5
  dimension "d133" = 3.5
  dimension "d134" = 3.5
  dimension "d135" = 3.5
  dimension "d136" = 36
  dimension "d137" = 36
  dimension "d138" = 42.5
  dimension "d139" = 42.5
  dimension "d140" = 35
  dimension "d141" = 35
  dimension "d142" = 36
  dimension "d143" = 10
extrude "Extrusion9" cut sketch "Sketch9" against normal blind 10
sketch "Sketch10" plane through (0, 3, 0) normal (0, 1, 0) x (1, 0, 0)
  circle A0 centre (70, 15) radius 1.75
  circle A1 centre (-15, -25) radius 1.75
  circle A2 centre (70, -65) radius 1.75
  point P0 (0, 0)
  dimension "d146" = 3.5
  dimension "d147" = 3.5
  dimension "d148" = 3.5
  dimension "d149" = 70
  dimension "d150" = 15
  dimension "d151" = 25
  dimension "d152" = 65
  dimension "d153" = 15
  dimension "d154" = 70
extrude "Extrusion10" cut sketch "Sketch10" against normal blind 10
properties part number "plaat"
